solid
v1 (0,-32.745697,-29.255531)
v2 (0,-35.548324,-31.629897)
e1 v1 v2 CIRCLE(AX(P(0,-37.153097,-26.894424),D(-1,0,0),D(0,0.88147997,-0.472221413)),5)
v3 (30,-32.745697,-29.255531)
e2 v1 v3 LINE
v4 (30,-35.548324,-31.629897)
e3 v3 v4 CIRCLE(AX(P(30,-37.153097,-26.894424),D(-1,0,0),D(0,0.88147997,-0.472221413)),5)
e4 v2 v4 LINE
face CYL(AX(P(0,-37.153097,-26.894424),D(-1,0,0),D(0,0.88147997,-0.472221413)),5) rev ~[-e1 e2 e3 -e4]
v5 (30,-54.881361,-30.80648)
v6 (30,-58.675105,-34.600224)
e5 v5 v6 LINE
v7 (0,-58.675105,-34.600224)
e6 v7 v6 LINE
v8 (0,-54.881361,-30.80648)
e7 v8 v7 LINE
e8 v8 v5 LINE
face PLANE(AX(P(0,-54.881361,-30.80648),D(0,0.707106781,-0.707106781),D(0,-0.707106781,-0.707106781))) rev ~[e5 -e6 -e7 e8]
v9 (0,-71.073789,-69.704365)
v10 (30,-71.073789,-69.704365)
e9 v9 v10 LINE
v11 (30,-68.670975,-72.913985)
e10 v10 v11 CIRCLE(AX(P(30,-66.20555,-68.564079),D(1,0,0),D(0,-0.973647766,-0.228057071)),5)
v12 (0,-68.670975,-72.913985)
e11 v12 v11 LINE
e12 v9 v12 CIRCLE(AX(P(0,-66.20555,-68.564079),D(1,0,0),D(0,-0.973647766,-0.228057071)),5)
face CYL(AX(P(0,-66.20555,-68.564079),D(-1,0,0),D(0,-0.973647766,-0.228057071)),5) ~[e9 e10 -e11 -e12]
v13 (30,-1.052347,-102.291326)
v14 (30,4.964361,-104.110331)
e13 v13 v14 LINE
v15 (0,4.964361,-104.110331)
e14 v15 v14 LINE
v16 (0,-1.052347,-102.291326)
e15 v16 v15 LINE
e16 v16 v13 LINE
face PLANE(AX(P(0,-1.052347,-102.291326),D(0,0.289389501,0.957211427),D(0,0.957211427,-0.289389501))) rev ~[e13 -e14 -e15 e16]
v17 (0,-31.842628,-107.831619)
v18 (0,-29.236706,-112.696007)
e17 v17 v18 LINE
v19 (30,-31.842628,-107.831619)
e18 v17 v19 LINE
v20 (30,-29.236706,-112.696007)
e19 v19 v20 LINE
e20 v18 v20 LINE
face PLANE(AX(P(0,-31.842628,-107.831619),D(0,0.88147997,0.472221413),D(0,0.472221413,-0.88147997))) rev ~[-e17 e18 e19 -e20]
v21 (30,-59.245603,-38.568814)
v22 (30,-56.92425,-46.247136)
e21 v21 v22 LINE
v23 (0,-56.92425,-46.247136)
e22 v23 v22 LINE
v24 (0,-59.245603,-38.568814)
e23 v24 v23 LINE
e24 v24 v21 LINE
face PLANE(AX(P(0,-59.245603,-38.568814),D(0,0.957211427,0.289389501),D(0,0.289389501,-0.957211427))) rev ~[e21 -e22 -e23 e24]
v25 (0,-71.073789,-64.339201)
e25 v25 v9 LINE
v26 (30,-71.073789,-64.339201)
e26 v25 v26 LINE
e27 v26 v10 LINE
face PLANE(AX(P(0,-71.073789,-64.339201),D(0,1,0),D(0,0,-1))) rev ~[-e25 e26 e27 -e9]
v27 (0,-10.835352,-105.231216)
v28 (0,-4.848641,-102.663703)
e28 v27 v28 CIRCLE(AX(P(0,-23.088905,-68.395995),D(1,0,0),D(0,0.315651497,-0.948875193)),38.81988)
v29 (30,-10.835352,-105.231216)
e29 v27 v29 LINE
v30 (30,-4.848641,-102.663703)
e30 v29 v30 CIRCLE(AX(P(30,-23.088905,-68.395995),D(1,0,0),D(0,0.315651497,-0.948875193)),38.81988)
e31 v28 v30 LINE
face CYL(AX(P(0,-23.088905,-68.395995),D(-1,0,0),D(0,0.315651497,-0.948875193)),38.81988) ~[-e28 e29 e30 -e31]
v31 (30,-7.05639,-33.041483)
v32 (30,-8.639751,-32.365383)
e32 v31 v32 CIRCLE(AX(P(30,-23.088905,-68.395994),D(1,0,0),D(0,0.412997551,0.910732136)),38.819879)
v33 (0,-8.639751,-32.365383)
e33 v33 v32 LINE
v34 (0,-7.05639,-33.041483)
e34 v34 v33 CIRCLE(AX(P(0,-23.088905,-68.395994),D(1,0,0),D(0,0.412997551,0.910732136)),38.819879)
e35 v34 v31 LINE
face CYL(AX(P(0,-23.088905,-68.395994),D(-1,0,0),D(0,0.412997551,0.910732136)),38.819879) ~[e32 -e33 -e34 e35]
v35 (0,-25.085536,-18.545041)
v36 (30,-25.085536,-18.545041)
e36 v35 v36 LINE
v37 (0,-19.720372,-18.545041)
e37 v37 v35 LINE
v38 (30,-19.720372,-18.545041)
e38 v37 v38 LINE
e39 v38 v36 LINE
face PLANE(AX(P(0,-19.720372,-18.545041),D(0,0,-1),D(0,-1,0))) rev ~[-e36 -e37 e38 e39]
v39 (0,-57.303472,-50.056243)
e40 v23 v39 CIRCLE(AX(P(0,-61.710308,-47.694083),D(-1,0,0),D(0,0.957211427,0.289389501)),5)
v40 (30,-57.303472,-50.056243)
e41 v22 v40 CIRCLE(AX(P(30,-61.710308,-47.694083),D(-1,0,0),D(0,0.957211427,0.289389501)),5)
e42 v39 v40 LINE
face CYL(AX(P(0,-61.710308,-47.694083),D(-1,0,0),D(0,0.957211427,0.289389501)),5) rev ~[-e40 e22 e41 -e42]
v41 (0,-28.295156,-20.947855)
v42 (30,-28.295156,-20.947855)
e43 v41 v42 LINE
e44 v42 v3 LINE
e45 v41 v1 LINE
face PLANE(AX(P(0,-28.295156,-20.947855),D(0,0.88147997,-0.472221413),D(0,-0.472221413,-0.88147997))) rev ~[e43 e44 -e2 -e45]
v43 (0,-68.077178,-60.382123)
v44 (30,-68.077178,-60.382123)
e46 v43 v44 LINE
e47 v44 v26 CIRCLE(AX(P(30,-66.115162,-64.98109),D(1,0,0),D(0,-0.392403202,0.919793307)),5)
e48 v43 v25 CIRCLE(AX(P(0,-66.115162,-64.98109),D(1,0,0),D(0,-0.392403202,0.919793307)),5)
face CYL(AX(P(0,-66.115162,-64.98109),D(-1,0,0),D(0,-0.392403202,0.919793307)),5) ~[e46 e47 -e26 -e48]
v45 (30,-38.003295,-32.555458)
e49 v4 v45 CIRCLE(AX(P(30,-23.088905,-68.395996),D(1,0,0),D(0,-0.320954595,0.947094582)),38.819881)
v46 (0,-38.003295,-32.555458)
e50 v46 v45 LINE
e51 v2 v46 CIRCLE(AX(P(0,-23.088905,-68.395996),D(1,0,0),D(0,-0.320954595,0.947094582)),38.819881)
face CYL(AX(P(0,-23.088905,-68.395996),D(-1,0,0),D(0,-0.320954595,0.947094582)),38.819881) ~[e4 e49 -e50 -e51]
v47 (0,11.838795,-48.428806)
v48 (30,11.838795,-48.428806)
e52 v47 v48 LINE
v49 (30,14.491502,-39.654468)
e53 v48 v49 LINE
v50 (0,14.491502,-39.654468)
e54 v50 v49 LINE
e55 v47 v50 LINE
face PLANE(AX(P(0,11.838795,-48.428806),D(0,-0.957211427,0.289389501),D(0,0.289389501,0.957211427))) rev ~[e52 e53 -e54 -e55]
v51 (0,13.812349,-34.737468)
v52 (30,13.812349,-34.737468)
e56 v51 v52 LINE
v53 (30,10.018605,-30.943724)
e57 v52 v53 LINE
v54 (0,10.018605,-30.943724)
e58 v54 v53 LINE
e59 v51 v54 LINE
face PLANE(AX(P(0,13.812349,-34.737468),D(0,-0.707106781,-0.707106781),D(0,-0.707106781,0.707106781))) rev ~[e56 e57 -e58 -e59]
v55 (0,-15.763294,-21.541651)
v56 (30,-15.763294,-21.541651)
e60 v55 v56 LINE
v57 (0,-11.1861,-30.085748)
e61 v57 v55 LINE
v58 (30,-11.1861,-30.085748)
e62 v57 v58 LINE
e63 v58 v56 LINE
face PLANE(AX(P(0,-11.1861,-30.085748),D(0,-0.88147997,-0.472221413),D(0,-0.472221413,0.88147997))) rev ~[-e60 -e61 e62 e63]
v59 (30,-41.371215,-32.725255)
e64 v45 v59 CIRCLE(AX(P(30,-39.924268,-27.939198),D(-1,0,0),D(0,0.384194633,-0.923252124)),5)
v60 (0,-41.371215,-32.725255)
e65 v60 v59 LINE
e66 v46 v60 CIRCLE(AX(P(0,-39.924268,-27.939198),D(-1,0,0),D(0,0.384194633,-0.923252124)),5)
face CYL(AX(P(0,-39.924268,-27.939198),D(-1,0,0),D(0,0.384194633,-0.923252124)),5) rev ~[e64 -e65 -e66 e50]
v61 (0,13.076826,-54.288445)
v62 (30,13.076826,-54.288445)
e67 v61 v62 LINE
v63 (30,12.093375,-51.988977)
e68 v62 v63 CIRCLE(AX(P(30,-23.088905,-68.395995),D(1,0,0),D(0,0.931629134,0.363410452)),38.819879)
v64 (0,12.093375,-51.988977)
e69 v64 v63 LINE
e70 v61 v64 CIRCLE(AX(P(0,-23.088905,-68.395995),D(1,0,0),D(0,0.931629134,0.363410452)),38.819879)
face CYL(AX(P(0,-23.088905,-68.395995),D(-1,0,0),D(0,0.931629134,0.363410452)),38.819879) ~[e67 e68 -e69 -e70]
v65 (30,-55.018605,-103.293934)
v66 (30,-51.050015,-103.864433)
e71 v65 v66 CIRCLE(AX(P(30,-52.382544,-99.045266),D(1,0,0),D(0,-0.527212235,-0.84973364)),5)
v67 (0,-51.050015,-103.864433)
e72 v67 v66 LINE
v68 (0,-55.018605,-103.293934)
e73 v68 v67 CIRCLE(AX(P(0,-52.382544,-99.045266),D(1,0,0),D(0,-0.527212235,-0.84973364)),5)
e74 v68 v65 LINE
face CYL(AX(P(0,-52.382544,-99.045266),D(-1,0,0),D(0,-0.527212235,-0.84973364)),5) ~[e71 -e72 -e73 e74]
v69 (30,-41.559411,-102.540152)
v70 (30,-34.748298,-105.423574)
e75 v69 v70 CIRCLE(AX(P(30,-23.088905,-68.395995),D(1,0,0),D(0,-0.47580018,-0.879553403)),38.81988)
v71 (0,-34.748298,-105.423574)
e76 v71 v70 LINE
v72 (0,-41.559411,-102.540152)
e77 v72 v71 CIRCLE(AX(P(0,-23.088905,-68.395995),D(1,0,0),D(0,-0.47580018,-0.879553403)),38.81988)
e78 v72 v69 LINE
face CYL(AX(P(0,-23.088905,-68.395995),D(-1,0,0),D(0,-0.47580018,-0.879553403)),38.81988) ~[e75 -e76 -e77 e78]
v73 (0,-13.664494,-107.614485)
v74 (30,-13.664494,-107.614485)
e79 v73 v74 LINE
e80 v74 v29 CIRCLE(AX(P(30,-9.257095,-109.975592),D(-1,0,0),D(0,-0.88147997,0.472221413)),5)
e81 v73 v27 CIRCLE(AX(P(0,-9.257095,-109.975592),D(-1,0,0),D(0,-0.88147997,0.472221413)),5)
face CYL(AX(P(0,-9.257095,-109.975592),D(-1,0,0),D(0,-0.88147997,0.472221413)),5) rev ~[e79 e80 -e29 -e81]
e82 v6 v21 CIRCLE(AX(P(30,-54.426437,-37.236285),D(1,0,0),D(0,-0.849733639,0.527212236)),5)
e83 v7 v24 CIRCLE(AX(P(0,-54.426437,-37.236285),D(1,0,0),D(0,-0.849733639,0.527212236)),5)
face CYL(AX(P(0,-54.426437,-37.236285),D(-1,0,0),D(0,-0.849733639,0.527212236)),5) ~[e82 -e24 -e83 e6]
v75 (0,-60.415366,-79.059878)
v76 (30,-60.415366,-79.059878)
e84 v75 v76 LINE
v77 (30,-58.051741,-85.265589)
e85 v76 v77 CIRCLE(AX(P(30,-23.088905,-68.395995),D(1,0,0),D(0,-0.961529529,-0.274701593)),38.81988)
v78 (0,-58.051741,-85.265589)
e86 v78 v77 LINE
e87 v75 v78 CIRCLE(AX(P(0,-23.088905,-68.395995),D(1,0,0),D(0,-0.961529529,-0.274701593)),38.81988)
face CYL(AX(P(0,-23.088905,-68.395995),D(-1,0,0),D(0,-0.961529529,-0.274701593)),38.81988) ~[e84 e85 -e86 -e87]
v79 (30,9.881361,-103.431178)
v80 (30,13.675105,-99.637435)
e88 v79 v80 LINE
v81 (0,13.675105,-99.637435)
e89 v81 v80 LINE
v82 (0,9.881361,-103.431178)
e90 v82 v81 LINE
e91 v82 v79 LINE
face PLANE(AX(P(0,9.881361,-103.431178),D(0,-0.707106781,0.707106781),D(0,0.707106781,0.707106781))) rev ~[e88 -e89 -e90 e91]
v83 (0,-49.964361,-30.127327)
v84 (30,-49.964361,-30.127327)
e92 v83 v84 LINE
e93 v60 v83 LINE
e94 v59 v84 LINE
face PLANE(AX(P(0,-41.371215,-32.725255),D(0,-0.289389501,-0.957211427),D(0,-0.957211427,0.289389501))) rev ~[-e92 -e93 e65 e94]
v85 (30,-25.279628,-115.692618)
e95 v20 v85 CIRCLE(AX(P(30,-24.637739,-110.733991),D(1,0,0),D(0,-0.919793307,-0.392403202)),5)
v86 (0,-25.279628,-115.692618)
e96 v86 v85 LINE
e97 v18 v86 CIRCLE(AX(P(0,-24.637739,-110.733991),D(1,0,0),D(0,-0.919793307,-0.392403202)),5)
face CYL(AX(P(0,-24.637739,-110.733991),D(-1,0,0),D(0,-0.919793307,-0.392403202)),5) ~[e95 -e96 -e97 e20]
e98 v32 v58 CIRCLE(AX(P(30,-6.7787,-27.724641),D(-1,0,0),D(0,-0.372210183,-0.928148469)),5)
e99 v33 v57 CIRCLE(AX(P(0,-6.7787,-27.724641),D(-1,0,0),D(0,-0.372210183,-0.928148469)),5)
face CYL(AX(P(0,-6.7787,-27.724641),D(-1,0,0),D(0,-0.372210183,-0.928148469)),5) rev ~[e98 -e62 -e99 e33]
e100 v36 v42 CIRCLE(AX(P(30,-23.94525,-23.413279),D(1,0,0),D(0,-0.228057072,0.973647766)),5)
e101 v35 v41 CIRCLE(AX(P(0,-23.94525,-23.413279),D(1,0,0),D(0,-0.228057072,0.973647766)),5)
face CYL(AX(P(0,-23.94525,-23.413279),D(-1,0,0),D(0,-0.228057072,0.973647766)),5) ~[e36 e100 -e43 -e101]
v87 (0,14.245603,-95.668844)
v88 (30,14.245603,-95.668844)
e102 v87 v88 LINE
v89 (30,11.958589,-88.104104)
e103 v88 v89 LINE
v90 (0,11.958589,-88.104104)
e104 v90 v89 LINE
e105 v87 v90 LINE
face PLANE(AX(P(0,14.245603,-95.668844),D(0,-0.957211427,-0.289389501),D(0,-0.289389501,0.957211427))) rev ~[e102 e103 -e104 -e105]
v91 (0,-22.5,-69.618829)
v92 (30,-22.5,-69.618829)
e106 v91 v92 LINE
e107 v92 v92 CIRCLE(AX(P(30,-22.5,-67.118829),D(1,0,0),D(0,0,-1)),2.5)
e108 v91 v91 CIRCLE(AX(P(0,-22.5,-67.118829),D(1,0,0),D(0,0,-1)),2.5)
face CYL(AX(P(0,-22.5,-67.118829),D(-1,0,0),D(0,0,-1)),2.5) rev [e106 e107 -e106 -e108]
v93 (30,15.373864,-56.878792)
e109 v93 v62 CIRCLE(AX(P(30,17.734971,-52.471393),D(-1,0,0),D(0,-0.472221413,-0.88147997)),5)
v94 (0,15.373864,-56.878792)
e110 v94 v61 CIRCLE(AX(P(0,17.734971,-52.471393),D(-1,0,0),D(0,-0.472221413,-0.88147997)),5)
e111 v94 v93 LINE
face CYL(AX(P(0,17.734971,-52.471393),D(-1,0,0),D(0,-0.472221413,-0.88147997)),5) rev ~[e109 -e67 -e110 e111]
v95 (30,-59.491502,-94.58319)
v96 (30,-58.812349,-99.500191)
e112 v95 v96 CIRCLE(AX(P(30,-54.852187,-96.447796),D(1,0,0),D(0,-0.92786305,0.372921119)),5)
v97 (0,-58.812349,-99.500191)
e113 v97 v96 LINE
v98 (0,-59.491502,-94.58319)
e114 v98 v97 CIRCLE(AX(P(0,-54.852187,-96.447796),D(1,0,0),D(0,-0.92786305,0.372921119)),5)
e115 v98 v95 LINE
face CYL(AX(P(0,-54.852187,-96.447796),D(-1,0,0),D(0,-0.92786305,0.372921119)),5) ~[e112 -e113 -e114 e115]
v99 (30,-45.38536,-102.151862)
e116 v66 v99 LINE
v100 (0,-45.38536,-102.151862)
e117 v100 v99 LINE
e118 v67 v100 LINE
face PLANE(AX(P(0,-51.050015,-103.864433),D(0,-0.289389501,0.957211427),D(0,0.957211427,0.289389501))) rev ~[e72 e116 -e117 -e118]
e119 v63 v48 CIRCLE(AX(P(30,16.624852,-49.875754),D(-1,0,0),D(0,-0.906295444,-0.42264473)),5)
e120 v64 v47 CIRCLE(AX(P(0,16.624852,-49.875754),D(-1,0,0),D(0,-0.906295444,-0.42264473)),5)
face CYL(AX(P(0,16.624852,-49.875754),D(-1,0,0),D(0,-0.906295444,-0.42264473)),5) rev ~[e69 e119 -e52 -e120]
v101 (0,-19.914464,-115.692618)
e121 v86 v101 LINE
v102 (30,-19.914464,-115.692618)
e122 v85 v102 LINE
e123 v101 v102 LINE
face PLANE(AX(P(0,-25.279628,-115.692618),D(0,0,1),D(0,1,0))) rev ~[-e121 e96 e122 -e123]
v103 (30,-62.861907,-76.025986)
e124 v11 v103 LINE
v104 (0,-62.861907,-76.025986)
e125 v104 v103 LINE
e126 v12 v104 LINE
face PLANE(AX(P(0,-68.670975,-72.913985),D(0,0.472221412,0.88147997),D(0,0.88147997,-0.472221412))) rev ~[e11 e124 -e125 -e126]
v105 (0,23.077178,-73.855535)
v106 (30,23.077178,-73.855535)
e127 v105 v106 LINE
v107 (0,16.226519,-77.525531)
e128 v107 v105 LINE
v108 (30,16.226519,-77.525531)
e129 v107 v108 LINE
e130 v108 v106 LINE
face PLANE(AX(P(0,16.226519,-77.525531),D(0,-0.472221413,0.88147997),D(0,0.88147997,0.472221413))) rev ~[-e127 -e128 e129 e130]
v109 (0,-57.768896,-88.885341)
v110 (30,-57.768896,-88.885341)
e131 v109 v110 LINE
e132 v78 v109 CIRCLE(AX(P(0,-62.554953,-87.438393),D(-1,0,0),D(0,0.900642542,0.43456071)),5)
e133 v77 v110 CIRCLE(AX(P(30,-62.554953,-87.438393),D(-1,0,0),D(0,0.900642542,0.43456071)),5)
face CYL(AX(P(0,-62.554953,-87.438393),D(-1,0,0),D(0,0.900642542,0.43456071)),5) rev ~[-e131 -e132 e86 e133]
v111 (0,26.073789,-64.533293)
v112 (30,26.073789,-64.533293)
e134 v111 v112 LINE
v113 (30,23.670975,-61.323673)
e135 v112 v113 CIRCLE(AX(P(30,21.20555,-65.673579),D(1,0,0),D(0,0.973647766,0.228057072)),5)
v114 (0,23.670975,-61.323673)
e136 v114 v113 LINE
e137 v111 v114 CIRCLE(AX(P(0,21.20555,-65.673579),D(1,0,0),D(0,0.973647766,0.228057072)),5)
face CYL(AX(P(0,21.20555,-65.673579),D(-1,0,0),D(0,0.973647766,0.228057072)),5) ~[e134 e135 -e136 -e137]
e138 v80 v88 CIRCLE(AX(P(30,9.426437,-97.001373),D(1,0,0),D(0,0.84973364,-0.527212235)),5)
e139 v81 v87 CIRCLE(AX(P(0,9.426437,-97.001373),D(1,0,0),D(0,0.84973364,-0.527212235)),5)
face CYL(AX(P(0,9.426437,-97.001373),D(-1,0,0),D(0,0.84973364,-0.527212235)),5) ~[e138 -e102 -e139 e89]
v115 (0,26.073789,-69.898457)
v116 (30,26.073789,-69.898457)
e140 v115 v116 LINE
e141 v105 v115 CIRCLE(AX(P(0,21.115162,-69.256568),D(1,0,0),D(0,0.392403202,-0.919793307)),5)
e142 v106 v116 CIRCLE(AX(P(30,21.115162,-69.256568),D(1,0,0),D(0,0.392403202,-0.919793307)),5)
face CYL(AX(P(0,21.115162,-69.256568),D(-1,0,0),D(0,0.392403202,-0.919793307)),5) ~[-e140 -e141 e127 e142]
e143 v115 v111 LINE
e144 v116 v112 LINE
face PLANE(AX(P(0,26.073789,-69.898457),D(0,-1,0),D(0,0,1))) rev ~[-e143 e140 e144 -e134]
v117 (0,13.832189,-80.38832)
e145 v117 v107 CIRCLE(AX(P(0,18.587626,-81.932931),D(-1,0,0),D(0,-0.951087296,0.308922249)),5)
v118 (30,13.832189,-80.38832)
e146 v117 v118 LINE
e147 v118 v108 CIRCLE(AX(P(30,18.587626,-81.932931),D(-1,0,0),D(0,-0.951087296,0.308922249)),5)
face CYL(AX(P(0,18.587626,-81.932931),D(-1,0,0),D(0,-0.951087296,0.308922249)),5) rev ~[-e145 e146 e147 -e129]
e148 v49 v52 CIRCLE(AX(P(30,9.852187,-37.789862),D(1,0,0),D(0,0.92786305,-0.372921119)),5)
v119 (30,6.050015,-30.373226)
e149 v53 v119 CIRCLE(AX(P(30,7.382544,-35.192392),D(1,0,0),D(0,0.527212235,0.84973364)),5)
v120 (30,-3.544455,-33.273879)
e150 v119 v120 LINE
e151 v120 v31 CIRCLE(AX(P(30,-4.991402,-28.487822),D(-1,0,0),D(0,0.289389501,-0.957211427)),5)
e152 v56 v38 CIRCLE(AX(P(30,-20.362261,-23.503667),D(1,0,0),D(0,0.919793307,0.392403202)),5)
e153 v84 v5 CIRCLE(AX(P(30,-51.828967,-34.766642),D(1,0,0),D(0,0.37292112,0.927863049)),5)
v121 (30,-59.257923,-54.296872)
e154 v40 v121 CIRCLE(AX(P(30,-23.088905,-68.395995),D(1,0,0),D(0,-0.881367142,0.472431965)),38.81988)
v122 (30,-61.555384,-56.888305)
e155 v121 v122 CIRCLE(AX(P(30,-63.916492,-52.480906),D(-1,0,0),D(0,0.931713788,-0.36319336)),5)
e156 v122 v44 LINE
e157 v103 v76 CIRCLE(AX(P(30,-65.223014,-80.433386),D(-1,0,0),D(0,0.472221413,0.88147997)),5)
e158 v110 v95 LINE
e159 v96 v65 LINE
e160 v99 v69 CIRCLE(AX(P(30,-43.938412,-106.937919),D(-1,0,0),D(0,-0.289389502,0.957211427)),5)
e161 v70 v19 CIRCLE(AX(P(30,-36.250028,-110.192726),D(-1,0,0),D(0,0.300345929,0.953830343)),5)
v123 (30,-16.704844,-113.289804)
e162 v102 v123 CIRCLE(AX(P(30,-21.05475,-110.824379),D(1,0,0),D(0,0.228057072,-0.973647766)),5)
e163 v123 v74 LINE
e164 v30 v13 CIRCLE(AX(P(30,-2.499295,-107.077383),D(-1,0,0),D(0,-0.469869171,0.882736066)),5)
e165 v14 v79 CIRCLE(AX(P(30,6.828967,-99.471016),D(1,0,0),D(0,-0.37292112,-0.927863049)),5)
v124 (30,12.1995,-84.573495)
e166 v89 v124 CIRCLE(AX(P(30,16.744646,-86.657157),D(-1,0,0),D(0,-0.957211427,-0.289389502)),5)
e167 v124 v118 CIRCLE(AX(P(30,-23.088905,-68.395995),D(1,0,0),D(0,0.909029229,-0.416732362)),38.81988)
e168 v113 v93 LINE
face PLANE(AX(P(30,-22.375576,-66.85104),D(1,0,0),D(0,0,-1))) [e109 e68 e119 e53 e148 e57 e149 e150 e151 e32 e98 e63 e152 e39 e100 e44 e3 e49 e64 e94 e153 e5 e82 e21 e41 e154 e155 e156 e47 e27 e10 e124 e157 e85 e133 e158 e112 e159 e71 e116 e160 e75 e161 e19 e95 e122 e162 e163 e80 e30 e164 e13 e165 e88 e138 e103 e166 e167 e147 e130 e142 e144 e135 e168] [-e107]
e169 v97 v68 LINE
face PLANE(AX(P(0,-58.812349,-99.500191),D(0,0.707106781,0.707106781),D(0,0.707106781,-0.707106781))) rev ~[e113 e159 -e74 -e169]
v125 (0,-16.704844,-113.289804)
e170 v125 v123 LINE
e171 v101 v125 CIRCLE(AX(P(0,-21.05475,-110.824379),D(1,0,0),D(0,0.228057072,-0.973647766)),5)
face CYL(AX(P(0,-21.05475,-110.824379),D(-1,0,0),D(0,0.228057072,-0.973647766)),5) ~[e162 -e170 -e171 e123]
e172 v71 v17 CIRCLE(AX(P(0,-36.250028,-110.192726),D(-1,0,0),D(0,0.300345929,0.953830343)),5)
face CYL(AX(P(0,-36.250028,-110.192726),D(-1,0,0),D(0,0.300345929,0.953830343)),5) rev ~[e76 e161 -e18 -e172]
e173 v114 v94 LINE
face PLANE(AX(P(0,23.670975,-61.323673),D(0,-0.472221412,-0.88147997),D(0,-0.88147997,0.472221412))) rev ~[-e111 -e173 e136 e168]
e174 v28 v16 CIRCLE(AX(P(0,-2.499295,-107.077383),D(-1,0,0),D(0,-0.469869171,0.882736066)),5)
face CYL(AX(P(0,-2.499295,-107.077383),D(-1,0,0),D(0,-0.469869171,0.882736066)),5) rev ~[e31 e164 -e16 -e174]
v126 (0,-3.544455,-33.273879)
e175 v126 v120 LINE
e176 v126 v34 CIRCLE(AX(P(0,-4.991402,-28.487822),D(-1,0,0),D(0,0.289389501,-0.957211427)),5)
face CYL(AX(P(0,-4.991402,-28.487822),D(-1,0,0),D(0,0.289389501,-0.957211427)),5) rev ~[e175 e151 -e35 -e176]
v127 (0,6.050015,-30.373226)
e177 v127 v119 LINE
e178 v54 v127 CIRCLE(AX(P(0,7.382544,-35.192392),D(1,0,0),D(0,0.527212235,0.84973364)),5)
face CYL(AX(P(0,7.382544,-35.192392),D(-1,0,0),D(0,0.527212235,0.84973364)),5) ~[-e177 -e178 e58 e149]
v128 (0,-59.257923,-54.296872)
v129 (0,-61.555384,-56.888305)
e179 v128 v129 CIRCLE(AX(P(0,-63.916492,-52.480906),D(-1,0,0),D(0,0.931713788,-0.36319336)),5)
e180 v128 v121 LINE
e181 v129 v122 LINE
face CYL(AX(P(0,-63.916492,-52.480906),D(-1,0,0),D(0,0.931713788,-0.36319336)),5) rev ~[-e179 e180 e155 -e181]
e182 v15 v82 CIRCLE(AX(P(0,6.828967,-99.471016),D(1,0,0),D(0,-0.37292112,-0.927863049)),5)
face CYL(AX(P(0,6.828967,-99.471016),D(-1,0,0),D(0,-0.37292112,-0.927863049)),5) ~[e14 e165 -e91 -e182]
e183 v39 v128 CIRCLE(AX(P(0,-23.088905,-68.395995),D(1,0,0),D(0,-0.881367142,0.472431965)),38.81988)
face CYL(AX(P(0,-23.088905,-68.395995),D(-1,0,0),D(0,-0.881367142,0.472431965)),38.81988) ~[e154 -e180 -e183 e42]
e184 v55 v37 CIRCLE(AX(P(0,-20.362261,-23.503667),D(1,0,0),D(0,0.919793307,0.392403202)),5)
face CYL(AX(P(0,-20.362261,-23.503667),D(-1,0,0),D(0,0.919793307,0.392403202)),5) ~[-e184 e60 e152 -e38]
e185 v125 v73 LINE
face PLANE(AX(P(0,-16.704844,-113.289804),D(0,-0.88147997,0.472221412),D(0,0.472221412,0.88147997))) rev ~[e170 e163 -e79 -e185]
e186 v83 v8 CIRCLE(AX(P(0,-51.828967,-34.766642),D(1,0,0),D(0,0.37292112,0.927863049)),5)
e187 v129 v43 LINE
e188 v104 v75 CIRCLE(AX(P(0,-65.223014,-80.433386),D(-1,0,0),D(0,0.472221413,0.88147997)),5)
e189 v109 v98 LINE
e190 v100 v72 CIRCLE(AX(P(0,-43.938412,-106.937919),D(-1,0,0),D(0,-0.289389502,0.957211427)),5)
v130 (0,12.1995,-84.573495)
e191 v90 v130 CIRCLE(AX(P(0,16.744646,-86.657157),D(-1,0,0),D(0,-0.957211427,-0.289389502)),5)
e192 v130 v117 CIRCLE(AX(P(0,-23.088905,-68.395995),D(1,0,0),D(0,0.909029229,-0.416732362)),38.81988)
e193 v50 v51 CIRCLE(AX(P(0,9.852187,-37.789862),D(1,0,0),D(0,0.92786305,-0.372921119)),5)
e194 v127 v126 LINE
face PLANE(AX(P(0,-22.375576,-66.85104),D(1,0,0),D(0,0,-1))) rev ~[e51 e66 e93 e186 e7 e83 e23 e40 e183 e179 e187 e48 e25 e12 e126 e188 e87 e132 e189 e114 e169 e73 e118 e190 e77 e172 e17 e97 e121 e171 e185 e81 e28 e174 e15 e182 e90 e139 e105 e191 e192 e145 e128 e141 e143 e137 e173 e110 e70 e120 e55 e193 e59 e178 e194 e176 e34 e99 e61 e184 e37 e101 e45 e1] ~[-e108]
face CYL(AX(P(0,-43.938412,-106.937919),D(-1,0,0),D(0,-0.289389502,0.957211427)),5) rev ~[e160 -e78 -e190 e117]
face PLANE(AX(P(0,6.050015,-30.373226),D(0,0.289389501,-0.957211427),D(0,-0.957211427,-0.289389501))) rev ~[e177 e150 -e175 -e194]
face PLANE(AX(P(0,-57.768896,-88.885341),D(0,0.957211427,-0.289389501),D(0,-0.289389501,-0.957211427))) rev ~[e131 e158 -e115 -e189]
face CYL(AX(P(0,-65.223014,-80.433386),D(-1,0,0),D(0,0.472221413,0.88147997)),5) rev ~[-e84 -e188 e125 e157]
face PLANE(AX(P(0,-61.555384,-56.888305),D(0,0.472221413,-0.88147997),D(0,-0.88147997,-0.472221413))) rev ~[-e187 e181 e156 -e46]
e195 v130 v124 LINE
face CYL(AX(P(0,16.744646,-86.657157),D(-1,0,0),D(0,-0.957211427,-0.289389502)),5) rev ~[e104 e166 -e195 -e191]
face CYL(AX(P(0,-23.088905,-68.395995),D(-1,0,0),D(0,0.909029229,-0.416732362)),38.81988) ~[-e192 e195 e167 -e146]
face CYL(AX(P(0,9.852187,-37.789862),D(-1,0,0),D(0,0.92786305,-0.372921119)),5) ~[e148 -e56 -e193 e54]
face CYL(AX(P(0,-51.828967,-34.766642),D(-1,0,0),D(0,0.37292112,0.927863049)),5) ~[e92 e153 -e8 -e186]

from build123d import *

# Parameters (mm, degrees)
SKETCH2_R           = 2.5
BOSS_EXTRUDE2_DEPTH = 30


with BuildPart() as part:
    # Sketch2 → Boss-Extrude2 (new body)
    with BuildSketch(Plane(origin=(0, 0, 0), x_dir=(0, 0, -1), z_dir=(1, 0, 0))):
        with BuildLine():
            Line((30.085747665, -11.186099671), (21.541651222, -15.763294195))
            ThreePointArc((21.541651222, -15.763294195), (19.517636628, -17.343724655), (18.545040528, -19.720371945))
            Line((18.545040528, -19.720371945), (18.545040528, -25.085535704))
            ThreePointArc((18.545040528, -25.085535704), (19.410646287, -26.94173637), (20.947854528, -28.295156137))
            Line((20.947854528, -28.295156137), (29.255531223, -32.745697224))
            ThreePointArc((29.255531223, -32.745697224), (30.70940007, -33.921076219), (31.629897073, -35.548324102))
            ThreePointArc((31.629897073, -35.548324102), (32.071931866, -36.783630966), (32.555458455, -38.00329479))
            ThreePointArc((32.555458455, -38.00329479), (32.932855534, -39.672508554), (32.725254973, -41.37121546))
            Line((32.725254973, -41.37121546), (30.127327196, -49.964361184))
            ThreePointArc((30.127327196, -49.964361184), (29.813665847, -52.513088724), (30.806479965, -54.881361437))
            Line((30.806479965, -54.881361437), (34.600223641, -58.675105113))
            ThreePointArc((34.600223641, -58.675105113), (36.524831421, -59.37556149), (38.568814087, -59.245603413))
            Line((38.568814087, -59.245603413), (46.247135524, -56.924250421))
            ThreePointArc((46.247135524, -56.924250421), (48.189416877, -56.734903616), (50.056242855, -57.303471848))
            ThreePointArc((50.056242855, -57.303471848), (52.14714523, -58.344514128), (54.296872356, -59.257922611))
            ThreePointArc((54.296872356, -59.257922611), (55.797855342, -60.175122269), (56.888305405, -61.555384489))
            Line((56.888305405, -61.555384489), (60.38212329, -68.077177874))
            ThreePointArc((60.38212329, -68.077177874), (61.96255375, -70.101192468), (64.339201041, -71.073788567))
            Line((64.339201041, -71.073788567), (69.7043648, -71.073788567))
            ThreePointArc((69.7043648, -71.073788567), (71.560565466, -70.208182809), (72.913985233, -68.670974568))
            Line((72.913985233, -68.670974568), (76.025985896, -62.861906663))
            ThreePointArc((76.025985896, -62.861906663), (77.294737312, -61.33085674), (79.059877782, -60.415366082))
            ThreePointArc((79.059877782, -60.415366082), (82.213367183, -59.366491991), (85.265589491, -58.05174059))
            ThreePointArc((85.265589491, -58.05174059), (87.048884387, -57.57014809), (88.885340547, -57.768896167))
            Line((88.885340547, -57.768896167), (94.58319028, -59.4915019))
            ThreePointArc((94.58319028, -59.4915019), (97.13191782, -59.805163248), (99.500190533, -58.812349131))
            Line((99.500190533, -58.812349131), (103.293934209, -55.018605455))
            ThreePointArc((103.293934209, -55.018605455), (103.994390585, -53.093997675), (103.864432509, -51.050015008))
            Line((103.864432509, -51.050015008), (102.151862248, -45.385359528))
            ThreePointArc((102.151862248, -45.385359528), (101.963471996, -43.433562355), (102.540152369, -41.559411123))
            ThreePointArc((102.540152369, -41.559411123), (104.144447245, -38.22268307), (105.423574244, -34.748298193))
            ThreePointArc((105.423574244, -34.748298193), (106.342936692, -33.05955411), (107.831618895, -31.842627988))
            Line((107.831618895, -31.842627988), (112.696006969, -29.236705805))
            ThreePointArc((112.696006969, -29.236705805), (114.720021563, -27.656275345), (115.692617663, -25.279628055))
            Line((115.692617663, -25.279628055), (115.692617663, -19.914464296))
            ThreePointArc((115.692617663, -19.914464296), (114.827011904, -18.05826363), (113.289803663, -16.704843863))
            Line((113.289803663, -16.704843863), (107.614484835, -13.664494491))
            ThreePointArc((107.614484835, -13.664494491), (106.151590865, -12.478432267), (105.231215931, -10.835352127))
            ThreePointArc((105.231215931, -10.835352127), (104.073253902, -7.788047033), (102.663702949, -4.848640544))
            ThreePointArc((102.663702949, -4.848640544), (102.101264993, -2.987400021), (102.291326141, -1.05234718))
            Line((102.291326141, -1.05234718), (104.110330995, 4.964361184))
            ThreePointArc((104.110330995, 4.964361184), (104.423992344, 7.513088724), (103.431178226, 9.881361437))
            Line((103.431178226, 9.881361437), (99.63743455, 13.675105113))
            ThreePointArc((99.63743455, 13.675105113), (97.71282677, 14.375561489), (95.668844104, 14.245603413))
            Line((95.668844104, 14.245603413), (88.104104481, 11.958589109))
            ThreePointArc((88.104104481, 11.958589109), (86.316773657, 11.75624578), (84.573495165, 12.199500102))
            ThreePointArc((84.573495165, 12.199500102), (82.504544688, 13.07643575), (80.388319531, 13.832189213))
            ThreePointArc((80.388319531, 13.832189213), (78.725157037, 14.752239447), (77.525530925, 16.22651863))
            Line((77.525530925, 16.22651863), (73.855534901, 23.077177874))
            ThreePointArc((73.855534901, 23.077177874), (72.275104441, 25.101192468), (69.89845715, 26.073788567))
            Line((69.89845715, 26.073788567), (64.533293391, 26.073788567))
            ThreePointArc((64.533293391, 26.073788567), (62.677092726, 25.208182809), (61.323672958, 23.670974568))
            Line((61.323672958, 23.670974568), (56.878792468, 15.373864318))
            ThreePointArc((56.878792468, 15.373864318), (55.788778276, 13.99398857), (54.288444878, 13.076825711))
            ThreePointArc((54.288444878, 13.076825711), (53.130789266, 12.603622826), (51.988977307, 12.093374908))
            ThreePointArc((51.988977307, 12.093374908), (50.232381905, 11.637586716), (48.428806148, 11.838794991))
            Line((48.428806148, 11.838794991), (39.654467911, 14.4915019))
            ThreePointArc((39.654467911, 14.4915019), (37.105740371, 14.805163248), (34.737467658, 13.812349131))
            Line((34.737467658, 13.812349131), (30.943723982, 10.018605455))
            ThreePointArc((30.943723982, 10.018605455), (30.243267606, 8.093997675), (30.373225682, 6.050015008))
            Line((30.373225682, 6.050015008), (33.27387934, -3.544454783))
            ThreePointArc((33.27387934, -3.544454783), (33.476910751, -5.321546901), (33.041482883, -7.056390042))
            ThreePointArc((33.041482883, -7.056390042), (32.694654044, -7.844321785), (32.365382945, -8.639750737))
            ThreePointArc((32.365382945, -8.639750737), (31.449885158, -10.113748997), (30.085747665, -11.186099671))
        make_face()
        with Locations((67.118829096, -22.5)):
            Circle(SKETCH2_R, mode=Mode.SUBTRACT)
    extrude(amount=BOSS_EXTRUDE2_DEPTH)


solid = part.part
